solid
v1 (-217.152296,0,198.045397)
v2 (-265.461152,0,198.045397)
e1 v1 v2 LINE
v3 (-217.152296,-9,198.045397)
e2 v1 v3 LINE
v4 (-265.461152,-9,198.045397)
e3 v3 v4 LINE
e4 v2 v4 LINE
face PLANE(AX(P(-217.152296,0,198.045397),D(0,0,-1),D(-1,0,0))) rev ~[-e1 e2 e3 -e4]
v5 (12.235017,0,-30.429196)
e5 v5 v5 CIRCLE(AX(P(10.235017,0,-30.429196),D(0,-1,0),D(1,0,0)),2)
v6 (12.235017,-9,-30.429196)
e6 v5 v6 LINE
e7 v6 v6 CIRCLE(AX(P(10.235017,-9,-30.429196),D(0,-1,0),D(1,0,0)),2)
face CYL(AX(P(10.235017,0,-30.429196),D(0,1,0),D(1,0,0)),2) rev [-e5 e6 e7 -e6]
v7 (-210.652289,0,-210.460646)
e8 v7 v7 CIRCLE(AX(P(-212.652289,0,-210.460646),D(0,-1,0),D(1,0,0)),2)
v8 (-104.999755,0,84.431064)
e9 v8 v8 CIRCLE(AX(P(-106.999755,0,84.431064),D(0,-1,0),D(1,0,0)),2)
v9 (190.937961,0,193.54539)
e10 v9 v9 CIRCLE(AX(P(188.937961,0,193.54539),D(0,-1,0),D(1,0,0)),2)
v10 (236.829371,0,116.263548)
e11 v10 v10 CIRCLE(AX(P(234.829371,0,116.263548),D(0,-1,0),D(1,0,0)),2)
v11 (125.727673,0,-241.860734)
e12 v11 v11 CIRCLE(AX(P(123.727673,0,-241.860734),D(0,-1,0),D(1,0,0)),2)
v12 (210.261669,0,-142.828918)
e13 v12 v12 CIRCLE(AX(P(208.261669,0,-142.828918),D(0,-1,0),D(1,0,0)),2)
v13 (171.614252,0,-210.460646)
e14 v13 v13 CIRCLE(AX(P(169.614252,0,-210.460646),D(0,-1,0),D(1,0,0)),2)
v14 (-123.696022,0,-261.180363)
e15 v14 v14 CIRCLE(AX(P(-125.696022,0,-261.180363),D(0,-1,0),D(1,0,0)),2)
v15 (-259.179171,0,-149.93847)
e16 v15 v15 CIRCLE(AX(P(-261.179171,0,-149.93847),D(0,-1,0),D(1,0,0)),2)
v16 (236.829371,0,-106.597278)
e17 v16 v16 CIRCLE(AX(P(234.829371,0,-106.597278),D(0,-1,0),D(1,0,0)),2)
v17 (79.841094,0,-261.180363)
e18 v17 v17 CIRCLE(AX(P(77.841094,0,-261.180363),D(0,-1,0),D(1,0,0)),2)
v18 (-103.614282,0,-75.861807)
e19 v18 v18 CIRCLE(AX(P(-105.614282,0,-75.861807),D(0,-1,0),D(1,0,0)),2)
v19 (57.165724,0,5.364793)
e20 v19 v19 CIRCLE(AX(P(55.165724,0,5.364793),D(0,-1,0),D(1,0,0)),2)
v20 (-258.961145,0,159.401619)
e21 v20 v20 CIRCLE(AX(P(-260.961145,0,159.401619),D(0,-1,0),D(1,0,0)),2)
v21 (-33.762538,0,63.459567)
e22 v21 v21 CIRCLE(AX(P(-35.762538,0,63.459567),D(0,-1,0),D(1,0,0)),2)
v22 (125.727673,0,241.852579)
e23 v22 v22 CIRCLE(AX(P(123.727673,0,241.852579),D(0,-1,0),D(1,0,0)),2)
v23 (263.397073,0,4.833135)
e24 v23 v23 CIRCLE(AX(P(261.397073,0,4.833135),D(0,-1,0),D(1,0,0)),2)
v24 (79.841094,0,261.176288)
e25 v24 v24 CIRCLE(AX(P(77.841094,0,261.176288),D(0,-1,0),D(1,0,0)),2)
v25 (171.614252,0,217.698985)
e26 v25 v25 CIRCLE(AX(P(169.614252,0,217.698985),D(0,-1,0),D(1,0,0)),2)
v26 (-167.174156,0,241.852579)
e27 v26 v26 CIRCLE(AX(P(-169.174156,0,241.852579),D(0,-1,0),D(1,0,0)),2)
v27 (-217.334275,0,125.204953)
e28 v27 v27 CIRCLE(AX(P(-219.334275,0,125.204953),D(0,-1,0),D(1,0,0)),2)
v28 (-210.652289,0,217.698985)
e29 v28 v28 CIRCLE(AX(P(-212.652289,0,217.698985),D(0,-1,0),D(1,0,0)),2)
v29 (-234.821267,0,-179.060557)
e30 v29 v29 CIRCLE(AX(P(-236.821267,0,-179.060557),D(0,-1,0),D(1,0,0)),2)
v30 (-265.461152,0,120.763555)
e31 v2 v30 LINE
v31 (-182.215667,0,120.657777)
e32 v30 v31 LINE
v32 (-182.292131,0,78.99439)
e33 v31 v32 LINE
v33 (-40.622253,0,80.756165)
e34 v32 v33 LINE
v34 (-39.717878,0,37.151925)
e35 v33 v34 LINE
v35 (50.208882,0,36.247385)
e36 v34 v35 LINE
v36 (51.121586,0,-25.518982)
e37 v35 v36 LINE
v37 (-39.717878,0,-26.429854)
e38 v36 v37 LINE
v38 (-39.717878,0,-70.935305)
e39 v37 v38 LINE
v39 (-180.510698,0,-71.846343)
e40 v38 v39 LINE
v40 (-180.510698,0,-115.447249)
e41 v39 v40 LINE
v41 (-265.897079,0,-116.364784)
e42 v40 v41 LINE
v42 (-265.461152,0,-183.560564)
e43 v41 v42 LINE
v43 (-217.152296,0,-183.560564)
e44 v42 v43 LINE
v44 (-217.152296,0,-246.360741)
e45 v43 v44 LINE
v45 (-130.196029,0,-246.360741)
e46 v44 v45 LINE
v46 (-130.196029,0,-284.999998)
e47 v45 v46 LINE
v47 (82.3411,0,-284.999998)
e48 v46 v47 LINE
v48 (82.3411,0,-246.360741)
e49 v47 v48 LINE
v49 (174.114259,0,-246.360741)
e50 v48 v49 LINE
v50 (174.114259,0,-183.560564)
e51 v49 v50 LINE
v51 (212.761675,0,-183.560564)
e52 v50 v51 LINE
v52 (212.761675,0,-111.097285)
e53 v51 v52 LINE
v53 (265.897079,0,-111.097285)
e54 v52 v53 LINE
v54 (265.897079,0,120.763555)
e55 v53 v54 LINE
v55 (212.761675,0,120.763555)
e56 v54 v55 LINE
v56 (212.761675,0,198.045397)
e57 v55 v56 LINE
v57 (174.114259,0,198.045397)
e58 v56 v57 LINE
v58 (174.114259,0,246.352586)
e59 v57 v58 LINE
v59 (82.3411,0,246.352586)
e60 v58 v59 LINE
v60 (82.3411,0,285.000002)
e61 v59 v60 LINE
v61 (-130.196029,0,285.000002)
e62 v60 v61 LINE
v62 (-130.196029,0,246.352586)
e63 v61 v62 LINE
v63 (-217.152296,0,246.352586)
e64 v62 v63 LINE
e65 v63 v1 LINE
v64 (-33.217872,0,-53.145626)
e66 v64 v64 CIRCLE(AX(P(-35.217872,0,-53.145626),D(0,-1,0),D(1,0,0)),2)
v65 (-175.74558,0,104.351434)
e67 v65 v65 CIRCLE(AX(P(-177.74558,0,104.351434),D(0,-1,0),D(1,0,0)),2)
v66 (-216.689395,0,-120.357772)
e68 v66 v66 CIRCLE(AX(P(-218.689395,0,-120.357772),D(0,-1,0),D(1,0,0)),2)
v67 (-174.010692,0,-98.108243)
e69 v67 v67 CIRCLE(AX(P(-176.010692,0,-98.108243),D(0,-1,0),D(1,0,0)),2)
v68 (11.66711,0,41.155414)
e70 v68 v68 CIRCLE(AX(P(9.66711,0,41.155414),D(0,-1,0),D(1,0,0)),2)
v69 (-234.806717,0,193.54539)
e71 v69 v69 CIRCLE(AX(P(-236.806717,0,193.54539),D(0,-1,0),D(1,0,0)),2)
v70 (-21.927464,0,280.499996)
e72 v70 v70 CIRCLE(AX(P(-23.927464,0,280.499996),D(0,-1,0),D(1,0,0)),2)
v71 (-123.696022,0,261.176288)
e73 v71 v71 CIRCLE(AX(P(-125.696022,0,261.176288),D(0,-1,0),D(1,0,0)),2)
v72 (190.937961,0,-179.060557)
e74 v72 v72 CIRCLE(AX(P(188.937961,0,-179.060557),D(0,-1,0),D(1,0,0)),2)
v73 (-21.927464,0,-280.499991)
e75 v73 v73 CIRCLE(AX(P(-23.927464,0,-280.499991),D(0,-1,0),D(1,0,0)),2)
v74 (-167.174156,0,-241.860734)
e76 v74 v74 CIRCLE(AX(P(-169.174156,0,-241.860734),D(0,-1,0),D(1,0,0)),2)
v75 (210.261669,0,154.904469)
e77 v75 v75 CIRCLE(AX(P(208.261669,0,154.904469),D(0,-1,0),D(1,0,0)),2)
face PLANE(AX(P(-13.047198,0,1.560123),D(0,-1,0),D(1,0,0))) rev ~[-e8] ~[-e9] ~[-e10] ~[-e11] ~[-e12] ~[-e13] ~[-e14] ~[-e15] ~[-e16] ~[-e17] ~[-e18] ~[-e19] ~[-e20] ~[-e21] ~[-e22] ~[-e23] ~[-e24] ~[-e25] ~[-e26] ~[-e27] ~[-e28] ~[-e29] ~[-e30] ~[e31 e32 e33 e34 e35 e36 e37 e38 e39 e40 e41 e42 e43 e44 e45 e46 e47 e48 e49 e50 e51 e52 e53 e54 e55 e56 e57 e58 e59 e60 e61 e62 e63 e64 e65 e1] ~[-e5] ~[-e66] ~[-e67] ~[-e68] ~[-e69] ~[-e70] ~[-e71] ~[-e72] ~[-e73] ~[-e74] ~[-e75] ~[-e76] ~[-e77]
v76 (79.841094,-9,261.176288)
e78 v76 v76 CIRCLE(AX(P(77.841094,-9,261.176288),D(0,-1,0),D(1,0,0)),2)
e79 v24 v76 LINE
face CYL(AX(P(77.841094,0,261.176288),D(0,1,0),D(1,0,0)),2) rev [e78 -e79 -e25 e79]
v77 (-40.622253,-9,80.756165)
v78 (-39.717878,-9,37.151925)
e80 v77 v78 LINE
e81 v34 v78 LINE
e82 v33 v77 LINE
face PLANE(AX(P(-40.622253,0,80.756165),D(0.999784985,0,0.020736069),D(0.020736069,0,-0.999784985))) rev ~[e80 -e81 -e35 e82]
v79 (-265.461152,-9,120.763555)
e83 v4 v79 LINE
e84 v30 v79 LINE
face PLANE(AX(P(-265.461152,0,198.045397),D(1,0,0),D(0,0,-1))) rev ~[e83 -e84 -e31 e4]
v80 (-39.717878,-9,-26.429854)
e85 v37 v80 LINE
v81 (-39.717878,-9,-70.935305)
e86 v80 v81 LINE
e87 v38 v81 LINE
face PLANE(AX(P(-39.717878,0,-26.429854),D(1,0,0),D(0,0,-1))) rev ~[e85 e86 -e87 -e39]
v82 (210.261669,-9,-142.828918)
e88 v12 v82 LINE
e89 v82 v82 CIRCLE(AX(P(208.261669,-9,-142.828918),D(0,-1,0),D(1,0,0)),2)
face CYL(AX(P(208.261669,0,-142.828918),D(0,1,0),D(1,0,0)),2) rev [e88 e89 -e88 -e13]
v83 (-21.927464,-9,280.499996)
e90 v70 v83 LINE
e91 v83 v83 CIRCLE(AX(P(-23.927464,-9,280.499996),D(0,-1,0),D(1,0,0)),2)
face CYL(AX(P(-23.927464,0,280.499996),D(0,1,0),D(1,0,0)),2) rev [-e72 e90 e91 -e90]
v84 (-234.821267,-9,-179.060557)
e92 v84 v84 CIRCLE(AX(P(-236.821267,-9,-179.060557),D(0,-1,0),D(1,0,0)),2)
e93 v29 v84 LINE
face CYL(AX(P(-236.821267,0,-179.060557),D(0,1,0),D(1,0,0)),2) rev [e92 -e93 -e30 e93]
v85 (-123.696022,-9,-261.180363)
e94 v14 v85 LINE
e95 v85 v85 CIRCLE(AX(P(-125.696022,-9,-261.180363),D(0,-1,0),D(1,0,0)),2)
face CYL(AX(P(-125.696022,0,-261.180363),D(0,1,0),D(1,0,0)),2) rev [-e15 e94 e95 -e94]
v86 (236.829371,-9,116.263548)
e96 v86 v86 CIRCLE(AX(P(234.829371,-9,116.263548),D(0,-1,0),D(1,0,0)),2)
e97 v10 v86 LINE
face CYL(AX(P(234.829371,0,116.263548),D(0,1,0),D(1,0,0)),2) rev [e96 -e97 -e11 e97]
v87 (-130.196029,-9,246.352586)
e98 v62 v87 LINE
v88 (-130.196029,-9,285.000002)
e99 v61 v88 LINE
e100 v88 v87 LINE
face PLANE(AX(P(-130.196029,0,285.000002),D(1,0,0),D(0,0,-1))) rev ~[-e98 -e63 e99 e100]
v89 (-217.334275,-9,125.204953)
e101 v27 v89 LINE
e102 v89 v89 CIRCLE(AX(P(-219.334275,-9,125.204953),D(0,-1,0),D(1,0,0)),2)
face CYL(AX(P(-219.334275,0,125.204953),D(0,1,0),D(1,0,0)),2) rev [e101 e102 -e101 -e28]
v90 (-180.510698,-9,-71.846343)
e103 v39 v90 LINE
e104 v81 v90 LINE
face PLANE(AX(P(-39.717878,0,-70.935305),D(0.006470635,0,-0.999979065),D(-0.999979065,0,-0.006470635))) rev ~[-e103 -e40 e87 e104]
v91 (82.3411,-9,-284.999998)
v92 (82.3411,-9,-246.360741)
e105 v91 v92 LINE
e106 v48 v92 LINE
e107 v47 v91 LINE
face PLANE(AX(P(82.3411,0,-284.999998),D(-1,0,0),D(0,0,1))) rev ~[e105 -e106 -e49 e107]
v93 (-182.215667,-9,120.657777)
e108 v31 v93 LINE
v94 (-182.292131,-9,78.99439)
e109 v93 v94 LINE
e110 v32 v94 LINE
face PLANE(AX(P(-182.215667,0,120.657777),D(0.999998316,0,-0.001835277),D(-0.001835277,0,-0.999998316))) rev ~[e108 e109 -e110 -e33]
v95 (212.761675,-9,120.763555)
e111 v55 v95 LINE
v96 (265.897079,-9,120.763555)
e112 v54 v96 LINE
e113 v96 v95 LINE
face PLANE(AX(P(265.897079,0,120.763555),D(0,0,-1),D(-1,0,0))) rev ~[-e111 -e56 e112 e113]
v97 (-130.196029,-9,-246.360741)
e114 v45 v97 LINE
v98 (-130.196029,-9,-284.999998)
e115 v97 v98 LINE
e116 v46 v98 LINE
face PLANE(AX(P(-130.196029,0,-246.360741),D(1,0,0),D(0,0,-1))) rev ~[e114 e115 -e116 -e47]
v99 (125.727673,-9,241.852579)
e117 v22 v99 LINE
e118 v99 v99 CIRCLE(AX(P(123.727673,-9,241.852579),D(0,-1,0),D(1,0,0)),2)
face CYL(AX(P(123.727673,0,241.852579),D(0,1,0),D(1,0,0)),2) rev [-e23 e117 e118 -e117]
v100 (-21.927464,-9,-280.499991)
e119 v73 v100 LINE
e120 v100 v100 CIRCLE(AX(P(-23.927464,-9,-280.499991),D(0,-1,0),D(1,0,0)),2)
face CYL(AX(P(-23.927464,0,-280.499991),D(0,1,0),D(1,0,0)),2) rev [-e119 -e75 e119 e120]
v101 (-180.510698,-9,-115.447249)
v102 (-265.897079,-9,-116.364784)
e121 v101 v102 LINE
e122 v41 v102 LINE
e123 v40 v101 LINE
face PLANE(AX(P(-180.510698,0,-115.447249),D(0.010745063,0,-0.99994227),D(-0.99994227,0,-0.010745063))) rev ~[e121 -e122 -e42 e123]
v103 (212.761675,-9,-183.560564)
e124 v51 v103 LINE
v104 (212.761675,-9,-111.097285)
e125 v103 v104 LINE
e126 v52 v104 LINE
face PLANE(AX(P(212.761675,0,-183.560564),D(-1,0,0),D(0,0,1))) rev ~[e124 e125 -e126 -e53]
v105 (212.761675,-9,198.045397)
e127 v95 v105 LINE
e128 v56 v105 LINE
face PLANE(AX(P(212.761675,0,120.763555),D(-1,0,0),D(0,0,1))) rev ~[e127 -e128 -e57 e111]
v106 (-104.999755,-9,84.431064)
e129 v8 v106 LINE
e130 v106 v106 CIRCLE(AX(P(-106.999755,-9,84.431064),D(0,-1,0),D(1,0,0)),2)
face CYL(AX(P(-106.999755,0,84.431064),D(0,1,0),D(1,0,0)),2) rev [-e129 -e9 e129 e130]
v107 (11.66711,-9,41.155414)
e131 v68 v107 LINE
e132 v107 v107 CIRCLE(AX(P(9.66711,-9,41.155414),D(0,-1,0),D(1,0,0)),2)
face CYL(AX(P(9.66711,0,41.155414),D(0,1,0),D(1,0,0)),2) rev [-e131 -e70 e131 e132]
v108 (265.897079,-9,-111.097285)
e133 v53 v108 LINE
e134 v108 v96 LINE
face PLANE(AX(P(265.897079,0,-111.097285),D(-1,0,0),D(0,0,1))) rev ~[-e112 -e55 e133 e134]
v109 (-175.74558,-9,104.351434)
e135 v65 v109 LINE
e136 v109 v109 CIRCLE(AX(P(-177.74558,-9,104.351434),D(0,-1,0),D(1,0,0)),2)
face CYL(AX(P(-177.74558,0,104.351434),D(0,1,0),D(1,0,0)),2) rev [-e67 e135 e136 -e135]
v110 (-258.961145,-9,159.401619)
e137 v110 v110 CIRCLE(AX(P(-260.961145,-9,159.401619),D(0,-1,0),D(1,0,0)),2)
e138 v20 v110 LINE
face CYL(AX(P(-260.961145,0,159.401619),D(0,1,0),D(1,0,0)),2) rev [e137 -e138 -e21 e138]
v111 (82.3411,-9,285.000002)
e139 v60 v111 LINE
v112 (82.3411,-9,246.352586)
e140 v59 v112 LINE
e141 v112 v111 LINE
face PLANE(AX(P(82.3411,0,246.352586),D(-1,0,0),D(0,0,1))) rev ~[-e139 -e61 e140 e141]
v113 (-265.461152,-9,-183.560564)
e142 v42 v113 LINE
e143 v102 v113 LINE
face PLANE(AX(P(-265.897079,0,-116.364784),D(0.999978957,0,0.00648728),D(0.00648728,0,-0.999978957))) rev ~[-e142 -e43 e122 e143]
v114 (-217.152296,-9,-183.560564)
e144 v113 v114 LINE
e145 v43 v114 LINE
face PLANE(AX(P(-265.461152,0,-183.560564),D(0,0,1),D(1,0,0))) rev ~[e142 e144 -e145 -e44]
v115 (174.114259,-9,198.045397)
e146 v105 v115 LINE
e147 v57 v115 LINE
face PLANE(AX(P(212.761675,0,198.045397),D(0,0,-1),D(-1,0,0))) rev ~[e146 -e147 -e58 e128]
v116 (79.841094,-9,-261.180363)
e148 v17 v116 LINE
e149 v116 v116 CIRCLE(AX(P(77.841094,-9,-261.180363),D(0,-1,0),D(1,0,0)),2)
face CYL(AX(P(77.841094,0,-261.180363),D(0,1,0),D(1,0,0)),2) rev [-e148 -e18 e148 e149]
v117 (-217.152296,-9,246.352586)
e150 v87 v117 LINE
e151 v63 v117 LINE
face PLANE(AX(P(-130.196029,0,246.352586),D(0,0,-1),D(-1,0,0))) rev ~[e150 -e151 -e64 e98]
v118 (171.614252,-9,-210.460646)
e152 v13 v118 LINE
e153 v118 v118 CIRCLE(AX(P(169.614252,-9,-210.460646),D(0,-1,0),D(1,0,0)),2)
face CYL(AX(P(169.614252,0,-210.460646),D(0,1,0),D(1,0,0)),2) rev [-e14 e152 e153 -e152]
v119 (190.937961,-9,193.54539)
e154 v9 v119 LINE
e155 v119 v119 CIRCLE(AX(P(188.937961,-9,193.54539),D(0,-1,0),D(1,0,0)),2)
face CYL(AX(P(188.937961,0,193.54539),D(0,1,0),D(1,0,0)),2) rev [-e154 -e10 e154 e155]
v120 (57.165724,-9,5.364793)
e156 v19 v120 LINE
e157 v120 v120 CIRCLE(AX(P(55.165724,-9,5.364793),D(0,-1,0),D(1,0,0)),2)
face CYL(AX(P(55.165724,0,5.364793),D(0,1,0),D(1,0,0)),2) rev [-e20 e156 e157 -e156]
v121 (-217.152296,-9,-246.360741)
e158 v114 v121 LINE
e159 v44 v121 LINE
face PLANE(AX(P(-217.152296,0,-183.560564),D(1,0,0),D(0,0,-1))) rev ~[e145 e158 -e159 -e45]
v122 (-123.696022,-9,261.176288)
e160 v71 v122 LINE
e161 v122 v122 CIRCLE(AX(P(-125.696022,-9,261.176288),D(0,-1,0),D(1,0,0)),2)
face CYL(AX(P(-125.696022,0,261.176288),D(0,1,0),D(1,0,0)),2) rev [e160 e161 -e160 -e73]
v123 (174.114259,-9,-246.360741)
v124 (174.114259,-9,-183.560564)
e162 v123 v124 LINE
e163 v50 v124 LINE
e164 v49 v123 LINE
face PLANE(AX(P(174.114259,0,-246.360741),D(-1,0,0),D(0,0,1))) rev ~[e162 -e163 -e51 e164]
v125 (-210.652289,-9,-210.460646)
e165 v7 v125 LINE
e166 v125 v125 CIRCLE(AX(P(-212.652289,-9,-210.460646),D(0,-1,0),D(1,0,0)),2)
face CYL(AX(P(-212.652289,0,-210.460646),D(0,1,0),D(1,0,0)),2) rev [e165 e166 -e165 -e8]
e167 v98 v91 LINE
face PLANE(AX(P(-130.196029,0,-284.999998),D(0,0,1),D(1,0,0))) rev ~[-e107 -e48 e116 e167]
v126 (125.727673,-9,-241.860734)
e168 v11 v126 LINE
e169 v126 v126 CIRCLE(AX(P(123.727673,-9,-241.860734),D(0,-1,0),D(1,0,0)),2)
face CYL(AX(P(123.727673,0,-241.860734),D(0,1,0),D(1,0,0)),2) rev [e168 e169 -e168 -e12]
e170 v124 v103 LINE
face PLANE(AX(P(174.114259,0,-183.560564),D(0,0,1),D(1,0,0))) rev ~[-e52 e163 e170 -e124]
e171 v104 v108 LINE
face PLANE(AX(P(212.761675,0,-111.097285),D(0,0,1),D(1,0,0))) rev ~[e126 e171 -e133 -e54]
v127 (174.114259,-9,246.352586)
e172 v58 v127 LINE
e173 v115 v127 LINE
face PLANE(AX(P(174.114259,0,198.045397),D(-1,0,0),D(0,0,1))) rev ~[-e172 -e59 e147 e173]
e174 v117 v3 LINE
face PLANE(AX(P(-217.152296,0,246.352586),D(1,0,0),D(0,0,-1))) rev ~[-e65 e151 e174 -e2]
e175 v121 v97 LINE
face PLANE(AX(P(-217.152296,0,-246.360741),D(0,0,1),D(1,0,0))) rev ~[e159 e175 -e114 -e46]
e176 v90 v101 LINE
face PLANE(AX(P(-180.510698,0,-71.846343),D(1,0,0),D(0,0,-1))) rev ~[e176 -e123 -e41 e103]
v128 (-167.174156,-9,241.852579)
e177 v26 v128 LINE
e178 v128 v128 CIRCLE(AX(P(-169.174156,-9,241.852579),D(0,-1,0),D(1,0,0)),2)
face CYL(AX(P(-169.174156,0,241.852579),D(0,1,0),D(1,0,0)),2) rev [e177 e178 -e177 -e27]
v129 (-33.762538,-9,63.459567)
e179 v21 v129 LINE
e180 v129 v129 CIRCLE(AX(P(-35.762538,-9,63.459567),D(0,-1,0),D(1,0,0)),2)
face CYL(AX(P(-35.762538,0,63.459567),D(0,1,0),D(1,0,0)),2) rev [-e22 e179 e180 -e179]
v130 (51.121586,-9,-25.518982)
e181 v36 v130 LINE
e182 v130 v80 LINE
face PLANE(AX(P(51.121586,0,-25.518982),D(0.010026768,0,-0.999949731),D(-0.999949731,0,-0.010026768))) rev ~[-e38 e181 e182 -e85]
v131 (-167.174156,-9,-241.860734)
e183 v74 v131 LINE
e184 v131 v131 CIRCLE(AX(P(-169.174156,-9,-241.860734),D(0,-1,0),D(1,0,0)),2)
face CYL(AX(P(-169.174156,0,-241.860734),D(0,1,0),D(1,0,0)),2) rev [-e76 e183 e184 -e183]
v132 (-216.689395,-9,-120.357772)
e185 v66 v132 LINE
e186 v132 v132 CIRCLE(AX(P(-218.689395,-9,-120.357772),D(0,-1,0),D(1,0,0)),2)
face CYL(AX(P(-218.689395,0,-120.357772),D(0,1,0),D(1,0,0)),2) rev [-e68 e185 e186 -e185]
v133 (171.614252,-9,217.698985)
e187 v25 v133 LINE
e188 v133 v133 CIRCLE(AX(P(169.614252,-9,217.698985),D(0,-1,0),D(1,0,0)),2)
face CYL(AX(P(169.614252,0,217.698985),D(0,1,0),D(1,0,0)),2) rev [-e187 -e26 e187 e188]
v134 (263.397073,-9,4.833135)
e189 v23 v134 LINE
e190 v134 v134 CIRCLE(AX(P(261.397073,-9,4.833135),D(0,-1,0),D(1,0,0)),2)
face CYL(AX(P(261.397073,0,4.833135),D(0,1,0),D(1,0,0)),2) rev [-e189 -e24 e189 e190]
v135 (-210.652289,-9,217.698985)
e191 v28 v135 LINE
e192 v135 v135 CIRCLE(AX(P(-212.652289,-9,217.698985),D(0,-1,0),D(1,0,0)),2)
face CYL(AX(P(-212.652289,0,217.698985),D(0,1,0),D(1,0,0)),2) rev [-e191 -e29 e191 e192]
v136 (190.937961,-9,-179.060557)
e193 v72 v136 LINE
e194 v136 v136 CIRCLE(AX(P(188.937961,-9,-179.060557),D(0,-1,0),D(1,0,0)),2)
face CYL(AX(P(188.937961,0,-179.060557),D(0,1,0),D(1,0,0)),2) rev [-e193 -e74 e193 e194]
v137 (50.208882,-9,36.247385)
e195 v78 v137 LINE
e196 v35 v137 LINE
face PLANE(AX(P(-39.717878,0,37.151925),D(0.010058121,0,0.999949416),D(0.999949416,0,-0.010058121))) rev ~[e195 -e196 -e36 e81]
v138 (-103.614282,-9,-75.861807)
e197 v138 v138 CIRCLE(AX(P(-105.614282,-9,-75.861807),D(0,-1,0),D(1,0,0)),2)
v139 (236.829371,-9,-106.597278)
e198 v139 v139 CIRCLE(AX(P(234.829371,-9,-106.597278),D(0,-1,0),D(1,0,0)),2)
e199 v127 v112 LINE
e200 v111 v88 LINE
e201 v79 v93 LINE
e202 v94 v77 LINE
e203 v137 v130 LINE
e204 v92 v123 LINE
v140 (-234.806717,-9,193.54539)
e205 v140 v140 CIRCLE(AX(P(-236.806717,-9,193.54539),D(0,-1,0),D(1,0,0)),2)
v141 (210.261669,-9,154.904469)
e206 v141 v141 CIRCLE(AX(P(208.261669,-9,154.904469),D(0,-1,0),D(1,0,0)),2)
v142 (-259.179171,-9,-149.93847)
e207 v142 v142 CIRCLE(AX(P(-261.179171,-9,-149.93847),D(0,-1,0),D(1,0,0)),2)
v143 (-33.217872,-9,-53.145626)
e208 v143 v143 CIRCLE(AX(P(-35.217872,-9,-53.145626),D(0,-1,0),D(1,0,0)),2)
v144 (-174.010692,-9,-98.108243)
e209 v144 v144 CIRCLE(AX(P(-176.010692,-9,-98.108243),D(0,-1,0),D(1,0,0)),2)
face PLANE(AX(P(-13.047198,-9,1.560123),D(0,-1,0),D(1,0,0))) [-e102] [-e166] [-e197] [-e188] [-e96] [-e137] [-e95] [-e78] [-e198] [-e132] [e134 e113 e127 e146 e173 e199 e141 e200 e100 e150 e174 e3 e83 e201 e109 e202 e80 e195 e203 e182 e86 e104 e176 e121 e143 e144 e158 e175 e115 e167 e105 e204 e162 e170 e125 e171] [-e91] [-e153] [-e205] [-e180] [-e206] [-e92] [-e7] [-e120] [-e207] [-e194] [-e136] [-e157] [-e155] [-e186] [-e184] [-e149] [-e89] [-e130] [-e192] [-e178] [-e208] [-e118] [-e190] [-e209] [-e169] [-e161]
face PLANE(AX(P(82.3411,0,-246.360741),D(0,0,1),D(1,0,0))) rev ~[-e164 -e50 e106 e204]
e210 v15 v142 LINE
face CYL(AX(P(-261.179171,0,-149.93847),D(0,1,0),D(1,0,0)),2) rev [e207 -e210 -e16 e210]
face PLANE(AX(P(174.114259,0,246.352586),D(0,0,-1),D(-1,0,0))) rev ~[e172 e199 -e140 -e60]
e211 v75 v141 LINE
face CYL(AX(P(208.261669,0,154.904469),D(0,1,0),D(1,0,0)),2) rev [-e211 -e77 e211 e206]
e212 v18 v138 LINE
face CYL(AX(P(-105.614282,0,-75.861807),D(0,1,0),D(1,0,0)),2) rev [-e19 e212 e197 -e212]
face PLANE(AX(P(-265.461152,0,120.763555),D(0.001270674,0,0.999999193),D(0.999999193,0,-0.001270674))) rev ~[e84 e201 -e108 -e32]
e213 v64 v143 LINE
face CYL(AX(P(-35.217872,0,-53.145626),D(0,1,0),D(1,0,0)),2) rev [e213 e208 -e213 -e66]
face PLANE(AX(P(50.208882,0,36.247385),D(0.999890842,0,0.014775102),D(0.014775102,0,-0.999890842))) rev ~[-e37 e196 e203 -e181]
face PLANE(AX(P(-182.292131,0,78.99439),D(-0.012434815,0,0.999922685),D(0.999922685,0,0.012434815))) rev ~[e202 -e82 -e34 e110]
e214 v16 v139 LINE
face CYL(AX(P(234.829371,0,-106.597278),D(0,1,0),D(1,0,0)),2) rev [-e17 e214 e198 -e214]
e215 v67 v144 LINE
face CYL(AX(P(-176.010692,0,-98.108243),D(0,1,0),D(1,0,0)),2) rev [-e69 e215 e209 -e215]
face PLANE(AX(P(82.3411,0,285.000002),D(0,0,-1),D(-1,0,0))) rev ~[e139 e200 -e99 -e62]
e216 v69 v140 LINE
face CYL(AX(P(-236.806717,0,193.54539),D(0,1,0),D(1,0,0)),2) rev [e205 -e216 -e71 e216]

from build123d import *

# Parameters (mm, degrees)
F0_R     = 2
F1_DEPTH = 9


with BuildPart() as f1:
    # F0 (on Front) → F1 (new body)
    with BuildSketch(Plane.XZ):
        Polygon((265.897079, -111.097285), (265.897079, 120.763555), (212.761675, 120.763555), (212.761675, 198.045397), (174.114259, 198.045397), (174.114259, 246.352586), (82.3411, 246.352586), (82.3411, 285.000002), (-130.196029, 285.000002), (-130.196029, 246.352586), (-217.152296, 246.352586), (-217.152296, 198.045397), (-265.461152, 198.045397), (-265.461152, 120.763555), (-182.215667, 120.657777), (-182.292131, 78.99439), (-40.622253, 80.756165), (-39.717878, 37.151925), (50.208882, 36.247385), (51.121586, -25.518982), (-39.717878, -26.429854), (-39.717878, -70.935305), (-180.510698, -71.846343), (-180.510698, -115.447249), (-265.897079, -116.364784), (-265.461152, -183.560564), (-217.152296, -183.560564), (-217.152296, -246.360741), (-130.196029, -246.360741), (-130.196029, -284.999998), (82.3411, -284.999998), (82.3411, -246.360741), (174.114259, -246.360741), (174.114259, -183.560564), (212.761675, -183.560564), (212.761675, -111.097285), align=None)
        with Locations((-169.174156, -241.860734)):
            Circle(F0_R, mode=Mode.SUBTRACT)
        with Locations((-236.821267, -179.060557)):
            Circle(F0_R, mode=Mode.SUBTRACT)
        with Locations((-212.652289, -210.460646)):
            Circle(F0_R, mode=Mode.SUBTRACT)
        with Locations((-261.179171, -149.93847)):
            Circle(F0_R, mode=Mode.SUBTRACT)
        with Locations((-125.696022, -261.180363)):
            Circle(F0_R, mode=Mode.SUBTRACT)
        with Locations((-23.927464, -280.499991)):
            Circle(F0_R, mode=Mode.SUBTRACT)
        with Locations((-218.689395, -120.357772)):
            Circle(F0_R, mode=Mode.SUBTRACT)
        with Locations((-176.010692, -98.108243)):
            Circle(F0_R, mode=Mode.SUBTRACT)
        with Locations((-105.614282, -75.861807)):
            Circle(F0_R, mode=Mode.SUBTRACT)
        with Locations((-35.217872, -53.145626)):
            Circle(F0_R, mode=Mode.SUBTRACT)
        with Locations((77.841094, -261.180363)):
            Circle(F0_R, mode=Mode.SUBTRACT)
        with Locations((123.727673, -241.860734)):
            Circle(F0_R, mode=Mode.SUBTRACT)
        with Locations((169.614252, -210.460646)):
            Circle(F0_R, mode=Mode.SUBTRACT)
        with Locations((188.937961, -179.060557)):
            Circle(F0_R, mode=Mode.SUBTRACT)
        with Locations((208.261669, -142.828918)):
            Circle(F0_R, mode=Mode.SUBTRACT)
        with Locations((10.235017, -30.429196)):
            Circle(F0_R, mode=Mode.SUBTRACT)
        with Locations((234.829371, -106.597278)):
            Circle(F0_R, mode=Mode.SUBTRACT)
        with Locations((-219.334275, 125.204953)):
            Circle(F0_R, mode=Mode.SUBTRACT)
        with Locations((-177.74558, 104.351434)):
            Circle(F0_R, mode=Mode.SUBTRACT)
        with Locations((-35.762538, 63.459567)):
            Circle(F0_R, mode=Mode.SUBTRACT)
        with Locations((-106.999755, 84.431064)):
            Circle(F0_R, mode=Mode.SUBTRACT)
        with Locations((-260.961145, 159.401619)):
            Circle(F0_R, mode=Mode.SUBTRACT)
        with Locations((-236.806717, 193.54539)):
            Circle(F0_R, mode=Mode.SUBTRACT)
        with Locations((-212.652289, 217.698985)):
            Circle(F0_R, mode=Mode.SUBTRACT)
        with Locations((-169.174156, 241.852579)):
            Circle(F0_R, mode=Mode.SUBTRACT)
        with Locations((-125.696022, 261.176288)):
            Circle(F0_R, mode=Mode.SUBTRACT)
        with Locations((-23.927464, 280.499996)):
            Circle(F0_R, mode=Mode.SUBTRACT)
        with Locations((55.165724, 5.364793)):
            Circle(F0_R, mode=Mode.SUBTRACT)
        with Locations((9.66711, 41.155414)):
            Circle(F0_R, mode=Mode.SUBTRACT)
        with Locations((261.397073, 4.833135)):
            Circle(F0_R, mode=Mode.SUBTRACT)
        with Locations((234.829371, 116.263548)):
            Circle(F0_R, mode=Mode.SUBTRACT)
        with Locations((123.727673, 241.852579)):
            Circle(F0_R, mode=Mode.SUBTRACT)
        with Locations((77.841094, 261.176288)):
            Circle(F0_R, mode=Mode.SUBTRACT)
        with Locations((188.937961, 193.54539)):
            Circle(F0_R, mode=Mode.SUBTRACT)
        with Locations((208.261669, 154.904469)):
            Circle(F0_R, mode=Mode.SUBTRACT)
        with Locations((169.614252, 217.698985)):
            Circle(F0_R, mode=Mode.SUBTRACT)
    extrude(amount=F1_DEPTH)


solid = f1.part
